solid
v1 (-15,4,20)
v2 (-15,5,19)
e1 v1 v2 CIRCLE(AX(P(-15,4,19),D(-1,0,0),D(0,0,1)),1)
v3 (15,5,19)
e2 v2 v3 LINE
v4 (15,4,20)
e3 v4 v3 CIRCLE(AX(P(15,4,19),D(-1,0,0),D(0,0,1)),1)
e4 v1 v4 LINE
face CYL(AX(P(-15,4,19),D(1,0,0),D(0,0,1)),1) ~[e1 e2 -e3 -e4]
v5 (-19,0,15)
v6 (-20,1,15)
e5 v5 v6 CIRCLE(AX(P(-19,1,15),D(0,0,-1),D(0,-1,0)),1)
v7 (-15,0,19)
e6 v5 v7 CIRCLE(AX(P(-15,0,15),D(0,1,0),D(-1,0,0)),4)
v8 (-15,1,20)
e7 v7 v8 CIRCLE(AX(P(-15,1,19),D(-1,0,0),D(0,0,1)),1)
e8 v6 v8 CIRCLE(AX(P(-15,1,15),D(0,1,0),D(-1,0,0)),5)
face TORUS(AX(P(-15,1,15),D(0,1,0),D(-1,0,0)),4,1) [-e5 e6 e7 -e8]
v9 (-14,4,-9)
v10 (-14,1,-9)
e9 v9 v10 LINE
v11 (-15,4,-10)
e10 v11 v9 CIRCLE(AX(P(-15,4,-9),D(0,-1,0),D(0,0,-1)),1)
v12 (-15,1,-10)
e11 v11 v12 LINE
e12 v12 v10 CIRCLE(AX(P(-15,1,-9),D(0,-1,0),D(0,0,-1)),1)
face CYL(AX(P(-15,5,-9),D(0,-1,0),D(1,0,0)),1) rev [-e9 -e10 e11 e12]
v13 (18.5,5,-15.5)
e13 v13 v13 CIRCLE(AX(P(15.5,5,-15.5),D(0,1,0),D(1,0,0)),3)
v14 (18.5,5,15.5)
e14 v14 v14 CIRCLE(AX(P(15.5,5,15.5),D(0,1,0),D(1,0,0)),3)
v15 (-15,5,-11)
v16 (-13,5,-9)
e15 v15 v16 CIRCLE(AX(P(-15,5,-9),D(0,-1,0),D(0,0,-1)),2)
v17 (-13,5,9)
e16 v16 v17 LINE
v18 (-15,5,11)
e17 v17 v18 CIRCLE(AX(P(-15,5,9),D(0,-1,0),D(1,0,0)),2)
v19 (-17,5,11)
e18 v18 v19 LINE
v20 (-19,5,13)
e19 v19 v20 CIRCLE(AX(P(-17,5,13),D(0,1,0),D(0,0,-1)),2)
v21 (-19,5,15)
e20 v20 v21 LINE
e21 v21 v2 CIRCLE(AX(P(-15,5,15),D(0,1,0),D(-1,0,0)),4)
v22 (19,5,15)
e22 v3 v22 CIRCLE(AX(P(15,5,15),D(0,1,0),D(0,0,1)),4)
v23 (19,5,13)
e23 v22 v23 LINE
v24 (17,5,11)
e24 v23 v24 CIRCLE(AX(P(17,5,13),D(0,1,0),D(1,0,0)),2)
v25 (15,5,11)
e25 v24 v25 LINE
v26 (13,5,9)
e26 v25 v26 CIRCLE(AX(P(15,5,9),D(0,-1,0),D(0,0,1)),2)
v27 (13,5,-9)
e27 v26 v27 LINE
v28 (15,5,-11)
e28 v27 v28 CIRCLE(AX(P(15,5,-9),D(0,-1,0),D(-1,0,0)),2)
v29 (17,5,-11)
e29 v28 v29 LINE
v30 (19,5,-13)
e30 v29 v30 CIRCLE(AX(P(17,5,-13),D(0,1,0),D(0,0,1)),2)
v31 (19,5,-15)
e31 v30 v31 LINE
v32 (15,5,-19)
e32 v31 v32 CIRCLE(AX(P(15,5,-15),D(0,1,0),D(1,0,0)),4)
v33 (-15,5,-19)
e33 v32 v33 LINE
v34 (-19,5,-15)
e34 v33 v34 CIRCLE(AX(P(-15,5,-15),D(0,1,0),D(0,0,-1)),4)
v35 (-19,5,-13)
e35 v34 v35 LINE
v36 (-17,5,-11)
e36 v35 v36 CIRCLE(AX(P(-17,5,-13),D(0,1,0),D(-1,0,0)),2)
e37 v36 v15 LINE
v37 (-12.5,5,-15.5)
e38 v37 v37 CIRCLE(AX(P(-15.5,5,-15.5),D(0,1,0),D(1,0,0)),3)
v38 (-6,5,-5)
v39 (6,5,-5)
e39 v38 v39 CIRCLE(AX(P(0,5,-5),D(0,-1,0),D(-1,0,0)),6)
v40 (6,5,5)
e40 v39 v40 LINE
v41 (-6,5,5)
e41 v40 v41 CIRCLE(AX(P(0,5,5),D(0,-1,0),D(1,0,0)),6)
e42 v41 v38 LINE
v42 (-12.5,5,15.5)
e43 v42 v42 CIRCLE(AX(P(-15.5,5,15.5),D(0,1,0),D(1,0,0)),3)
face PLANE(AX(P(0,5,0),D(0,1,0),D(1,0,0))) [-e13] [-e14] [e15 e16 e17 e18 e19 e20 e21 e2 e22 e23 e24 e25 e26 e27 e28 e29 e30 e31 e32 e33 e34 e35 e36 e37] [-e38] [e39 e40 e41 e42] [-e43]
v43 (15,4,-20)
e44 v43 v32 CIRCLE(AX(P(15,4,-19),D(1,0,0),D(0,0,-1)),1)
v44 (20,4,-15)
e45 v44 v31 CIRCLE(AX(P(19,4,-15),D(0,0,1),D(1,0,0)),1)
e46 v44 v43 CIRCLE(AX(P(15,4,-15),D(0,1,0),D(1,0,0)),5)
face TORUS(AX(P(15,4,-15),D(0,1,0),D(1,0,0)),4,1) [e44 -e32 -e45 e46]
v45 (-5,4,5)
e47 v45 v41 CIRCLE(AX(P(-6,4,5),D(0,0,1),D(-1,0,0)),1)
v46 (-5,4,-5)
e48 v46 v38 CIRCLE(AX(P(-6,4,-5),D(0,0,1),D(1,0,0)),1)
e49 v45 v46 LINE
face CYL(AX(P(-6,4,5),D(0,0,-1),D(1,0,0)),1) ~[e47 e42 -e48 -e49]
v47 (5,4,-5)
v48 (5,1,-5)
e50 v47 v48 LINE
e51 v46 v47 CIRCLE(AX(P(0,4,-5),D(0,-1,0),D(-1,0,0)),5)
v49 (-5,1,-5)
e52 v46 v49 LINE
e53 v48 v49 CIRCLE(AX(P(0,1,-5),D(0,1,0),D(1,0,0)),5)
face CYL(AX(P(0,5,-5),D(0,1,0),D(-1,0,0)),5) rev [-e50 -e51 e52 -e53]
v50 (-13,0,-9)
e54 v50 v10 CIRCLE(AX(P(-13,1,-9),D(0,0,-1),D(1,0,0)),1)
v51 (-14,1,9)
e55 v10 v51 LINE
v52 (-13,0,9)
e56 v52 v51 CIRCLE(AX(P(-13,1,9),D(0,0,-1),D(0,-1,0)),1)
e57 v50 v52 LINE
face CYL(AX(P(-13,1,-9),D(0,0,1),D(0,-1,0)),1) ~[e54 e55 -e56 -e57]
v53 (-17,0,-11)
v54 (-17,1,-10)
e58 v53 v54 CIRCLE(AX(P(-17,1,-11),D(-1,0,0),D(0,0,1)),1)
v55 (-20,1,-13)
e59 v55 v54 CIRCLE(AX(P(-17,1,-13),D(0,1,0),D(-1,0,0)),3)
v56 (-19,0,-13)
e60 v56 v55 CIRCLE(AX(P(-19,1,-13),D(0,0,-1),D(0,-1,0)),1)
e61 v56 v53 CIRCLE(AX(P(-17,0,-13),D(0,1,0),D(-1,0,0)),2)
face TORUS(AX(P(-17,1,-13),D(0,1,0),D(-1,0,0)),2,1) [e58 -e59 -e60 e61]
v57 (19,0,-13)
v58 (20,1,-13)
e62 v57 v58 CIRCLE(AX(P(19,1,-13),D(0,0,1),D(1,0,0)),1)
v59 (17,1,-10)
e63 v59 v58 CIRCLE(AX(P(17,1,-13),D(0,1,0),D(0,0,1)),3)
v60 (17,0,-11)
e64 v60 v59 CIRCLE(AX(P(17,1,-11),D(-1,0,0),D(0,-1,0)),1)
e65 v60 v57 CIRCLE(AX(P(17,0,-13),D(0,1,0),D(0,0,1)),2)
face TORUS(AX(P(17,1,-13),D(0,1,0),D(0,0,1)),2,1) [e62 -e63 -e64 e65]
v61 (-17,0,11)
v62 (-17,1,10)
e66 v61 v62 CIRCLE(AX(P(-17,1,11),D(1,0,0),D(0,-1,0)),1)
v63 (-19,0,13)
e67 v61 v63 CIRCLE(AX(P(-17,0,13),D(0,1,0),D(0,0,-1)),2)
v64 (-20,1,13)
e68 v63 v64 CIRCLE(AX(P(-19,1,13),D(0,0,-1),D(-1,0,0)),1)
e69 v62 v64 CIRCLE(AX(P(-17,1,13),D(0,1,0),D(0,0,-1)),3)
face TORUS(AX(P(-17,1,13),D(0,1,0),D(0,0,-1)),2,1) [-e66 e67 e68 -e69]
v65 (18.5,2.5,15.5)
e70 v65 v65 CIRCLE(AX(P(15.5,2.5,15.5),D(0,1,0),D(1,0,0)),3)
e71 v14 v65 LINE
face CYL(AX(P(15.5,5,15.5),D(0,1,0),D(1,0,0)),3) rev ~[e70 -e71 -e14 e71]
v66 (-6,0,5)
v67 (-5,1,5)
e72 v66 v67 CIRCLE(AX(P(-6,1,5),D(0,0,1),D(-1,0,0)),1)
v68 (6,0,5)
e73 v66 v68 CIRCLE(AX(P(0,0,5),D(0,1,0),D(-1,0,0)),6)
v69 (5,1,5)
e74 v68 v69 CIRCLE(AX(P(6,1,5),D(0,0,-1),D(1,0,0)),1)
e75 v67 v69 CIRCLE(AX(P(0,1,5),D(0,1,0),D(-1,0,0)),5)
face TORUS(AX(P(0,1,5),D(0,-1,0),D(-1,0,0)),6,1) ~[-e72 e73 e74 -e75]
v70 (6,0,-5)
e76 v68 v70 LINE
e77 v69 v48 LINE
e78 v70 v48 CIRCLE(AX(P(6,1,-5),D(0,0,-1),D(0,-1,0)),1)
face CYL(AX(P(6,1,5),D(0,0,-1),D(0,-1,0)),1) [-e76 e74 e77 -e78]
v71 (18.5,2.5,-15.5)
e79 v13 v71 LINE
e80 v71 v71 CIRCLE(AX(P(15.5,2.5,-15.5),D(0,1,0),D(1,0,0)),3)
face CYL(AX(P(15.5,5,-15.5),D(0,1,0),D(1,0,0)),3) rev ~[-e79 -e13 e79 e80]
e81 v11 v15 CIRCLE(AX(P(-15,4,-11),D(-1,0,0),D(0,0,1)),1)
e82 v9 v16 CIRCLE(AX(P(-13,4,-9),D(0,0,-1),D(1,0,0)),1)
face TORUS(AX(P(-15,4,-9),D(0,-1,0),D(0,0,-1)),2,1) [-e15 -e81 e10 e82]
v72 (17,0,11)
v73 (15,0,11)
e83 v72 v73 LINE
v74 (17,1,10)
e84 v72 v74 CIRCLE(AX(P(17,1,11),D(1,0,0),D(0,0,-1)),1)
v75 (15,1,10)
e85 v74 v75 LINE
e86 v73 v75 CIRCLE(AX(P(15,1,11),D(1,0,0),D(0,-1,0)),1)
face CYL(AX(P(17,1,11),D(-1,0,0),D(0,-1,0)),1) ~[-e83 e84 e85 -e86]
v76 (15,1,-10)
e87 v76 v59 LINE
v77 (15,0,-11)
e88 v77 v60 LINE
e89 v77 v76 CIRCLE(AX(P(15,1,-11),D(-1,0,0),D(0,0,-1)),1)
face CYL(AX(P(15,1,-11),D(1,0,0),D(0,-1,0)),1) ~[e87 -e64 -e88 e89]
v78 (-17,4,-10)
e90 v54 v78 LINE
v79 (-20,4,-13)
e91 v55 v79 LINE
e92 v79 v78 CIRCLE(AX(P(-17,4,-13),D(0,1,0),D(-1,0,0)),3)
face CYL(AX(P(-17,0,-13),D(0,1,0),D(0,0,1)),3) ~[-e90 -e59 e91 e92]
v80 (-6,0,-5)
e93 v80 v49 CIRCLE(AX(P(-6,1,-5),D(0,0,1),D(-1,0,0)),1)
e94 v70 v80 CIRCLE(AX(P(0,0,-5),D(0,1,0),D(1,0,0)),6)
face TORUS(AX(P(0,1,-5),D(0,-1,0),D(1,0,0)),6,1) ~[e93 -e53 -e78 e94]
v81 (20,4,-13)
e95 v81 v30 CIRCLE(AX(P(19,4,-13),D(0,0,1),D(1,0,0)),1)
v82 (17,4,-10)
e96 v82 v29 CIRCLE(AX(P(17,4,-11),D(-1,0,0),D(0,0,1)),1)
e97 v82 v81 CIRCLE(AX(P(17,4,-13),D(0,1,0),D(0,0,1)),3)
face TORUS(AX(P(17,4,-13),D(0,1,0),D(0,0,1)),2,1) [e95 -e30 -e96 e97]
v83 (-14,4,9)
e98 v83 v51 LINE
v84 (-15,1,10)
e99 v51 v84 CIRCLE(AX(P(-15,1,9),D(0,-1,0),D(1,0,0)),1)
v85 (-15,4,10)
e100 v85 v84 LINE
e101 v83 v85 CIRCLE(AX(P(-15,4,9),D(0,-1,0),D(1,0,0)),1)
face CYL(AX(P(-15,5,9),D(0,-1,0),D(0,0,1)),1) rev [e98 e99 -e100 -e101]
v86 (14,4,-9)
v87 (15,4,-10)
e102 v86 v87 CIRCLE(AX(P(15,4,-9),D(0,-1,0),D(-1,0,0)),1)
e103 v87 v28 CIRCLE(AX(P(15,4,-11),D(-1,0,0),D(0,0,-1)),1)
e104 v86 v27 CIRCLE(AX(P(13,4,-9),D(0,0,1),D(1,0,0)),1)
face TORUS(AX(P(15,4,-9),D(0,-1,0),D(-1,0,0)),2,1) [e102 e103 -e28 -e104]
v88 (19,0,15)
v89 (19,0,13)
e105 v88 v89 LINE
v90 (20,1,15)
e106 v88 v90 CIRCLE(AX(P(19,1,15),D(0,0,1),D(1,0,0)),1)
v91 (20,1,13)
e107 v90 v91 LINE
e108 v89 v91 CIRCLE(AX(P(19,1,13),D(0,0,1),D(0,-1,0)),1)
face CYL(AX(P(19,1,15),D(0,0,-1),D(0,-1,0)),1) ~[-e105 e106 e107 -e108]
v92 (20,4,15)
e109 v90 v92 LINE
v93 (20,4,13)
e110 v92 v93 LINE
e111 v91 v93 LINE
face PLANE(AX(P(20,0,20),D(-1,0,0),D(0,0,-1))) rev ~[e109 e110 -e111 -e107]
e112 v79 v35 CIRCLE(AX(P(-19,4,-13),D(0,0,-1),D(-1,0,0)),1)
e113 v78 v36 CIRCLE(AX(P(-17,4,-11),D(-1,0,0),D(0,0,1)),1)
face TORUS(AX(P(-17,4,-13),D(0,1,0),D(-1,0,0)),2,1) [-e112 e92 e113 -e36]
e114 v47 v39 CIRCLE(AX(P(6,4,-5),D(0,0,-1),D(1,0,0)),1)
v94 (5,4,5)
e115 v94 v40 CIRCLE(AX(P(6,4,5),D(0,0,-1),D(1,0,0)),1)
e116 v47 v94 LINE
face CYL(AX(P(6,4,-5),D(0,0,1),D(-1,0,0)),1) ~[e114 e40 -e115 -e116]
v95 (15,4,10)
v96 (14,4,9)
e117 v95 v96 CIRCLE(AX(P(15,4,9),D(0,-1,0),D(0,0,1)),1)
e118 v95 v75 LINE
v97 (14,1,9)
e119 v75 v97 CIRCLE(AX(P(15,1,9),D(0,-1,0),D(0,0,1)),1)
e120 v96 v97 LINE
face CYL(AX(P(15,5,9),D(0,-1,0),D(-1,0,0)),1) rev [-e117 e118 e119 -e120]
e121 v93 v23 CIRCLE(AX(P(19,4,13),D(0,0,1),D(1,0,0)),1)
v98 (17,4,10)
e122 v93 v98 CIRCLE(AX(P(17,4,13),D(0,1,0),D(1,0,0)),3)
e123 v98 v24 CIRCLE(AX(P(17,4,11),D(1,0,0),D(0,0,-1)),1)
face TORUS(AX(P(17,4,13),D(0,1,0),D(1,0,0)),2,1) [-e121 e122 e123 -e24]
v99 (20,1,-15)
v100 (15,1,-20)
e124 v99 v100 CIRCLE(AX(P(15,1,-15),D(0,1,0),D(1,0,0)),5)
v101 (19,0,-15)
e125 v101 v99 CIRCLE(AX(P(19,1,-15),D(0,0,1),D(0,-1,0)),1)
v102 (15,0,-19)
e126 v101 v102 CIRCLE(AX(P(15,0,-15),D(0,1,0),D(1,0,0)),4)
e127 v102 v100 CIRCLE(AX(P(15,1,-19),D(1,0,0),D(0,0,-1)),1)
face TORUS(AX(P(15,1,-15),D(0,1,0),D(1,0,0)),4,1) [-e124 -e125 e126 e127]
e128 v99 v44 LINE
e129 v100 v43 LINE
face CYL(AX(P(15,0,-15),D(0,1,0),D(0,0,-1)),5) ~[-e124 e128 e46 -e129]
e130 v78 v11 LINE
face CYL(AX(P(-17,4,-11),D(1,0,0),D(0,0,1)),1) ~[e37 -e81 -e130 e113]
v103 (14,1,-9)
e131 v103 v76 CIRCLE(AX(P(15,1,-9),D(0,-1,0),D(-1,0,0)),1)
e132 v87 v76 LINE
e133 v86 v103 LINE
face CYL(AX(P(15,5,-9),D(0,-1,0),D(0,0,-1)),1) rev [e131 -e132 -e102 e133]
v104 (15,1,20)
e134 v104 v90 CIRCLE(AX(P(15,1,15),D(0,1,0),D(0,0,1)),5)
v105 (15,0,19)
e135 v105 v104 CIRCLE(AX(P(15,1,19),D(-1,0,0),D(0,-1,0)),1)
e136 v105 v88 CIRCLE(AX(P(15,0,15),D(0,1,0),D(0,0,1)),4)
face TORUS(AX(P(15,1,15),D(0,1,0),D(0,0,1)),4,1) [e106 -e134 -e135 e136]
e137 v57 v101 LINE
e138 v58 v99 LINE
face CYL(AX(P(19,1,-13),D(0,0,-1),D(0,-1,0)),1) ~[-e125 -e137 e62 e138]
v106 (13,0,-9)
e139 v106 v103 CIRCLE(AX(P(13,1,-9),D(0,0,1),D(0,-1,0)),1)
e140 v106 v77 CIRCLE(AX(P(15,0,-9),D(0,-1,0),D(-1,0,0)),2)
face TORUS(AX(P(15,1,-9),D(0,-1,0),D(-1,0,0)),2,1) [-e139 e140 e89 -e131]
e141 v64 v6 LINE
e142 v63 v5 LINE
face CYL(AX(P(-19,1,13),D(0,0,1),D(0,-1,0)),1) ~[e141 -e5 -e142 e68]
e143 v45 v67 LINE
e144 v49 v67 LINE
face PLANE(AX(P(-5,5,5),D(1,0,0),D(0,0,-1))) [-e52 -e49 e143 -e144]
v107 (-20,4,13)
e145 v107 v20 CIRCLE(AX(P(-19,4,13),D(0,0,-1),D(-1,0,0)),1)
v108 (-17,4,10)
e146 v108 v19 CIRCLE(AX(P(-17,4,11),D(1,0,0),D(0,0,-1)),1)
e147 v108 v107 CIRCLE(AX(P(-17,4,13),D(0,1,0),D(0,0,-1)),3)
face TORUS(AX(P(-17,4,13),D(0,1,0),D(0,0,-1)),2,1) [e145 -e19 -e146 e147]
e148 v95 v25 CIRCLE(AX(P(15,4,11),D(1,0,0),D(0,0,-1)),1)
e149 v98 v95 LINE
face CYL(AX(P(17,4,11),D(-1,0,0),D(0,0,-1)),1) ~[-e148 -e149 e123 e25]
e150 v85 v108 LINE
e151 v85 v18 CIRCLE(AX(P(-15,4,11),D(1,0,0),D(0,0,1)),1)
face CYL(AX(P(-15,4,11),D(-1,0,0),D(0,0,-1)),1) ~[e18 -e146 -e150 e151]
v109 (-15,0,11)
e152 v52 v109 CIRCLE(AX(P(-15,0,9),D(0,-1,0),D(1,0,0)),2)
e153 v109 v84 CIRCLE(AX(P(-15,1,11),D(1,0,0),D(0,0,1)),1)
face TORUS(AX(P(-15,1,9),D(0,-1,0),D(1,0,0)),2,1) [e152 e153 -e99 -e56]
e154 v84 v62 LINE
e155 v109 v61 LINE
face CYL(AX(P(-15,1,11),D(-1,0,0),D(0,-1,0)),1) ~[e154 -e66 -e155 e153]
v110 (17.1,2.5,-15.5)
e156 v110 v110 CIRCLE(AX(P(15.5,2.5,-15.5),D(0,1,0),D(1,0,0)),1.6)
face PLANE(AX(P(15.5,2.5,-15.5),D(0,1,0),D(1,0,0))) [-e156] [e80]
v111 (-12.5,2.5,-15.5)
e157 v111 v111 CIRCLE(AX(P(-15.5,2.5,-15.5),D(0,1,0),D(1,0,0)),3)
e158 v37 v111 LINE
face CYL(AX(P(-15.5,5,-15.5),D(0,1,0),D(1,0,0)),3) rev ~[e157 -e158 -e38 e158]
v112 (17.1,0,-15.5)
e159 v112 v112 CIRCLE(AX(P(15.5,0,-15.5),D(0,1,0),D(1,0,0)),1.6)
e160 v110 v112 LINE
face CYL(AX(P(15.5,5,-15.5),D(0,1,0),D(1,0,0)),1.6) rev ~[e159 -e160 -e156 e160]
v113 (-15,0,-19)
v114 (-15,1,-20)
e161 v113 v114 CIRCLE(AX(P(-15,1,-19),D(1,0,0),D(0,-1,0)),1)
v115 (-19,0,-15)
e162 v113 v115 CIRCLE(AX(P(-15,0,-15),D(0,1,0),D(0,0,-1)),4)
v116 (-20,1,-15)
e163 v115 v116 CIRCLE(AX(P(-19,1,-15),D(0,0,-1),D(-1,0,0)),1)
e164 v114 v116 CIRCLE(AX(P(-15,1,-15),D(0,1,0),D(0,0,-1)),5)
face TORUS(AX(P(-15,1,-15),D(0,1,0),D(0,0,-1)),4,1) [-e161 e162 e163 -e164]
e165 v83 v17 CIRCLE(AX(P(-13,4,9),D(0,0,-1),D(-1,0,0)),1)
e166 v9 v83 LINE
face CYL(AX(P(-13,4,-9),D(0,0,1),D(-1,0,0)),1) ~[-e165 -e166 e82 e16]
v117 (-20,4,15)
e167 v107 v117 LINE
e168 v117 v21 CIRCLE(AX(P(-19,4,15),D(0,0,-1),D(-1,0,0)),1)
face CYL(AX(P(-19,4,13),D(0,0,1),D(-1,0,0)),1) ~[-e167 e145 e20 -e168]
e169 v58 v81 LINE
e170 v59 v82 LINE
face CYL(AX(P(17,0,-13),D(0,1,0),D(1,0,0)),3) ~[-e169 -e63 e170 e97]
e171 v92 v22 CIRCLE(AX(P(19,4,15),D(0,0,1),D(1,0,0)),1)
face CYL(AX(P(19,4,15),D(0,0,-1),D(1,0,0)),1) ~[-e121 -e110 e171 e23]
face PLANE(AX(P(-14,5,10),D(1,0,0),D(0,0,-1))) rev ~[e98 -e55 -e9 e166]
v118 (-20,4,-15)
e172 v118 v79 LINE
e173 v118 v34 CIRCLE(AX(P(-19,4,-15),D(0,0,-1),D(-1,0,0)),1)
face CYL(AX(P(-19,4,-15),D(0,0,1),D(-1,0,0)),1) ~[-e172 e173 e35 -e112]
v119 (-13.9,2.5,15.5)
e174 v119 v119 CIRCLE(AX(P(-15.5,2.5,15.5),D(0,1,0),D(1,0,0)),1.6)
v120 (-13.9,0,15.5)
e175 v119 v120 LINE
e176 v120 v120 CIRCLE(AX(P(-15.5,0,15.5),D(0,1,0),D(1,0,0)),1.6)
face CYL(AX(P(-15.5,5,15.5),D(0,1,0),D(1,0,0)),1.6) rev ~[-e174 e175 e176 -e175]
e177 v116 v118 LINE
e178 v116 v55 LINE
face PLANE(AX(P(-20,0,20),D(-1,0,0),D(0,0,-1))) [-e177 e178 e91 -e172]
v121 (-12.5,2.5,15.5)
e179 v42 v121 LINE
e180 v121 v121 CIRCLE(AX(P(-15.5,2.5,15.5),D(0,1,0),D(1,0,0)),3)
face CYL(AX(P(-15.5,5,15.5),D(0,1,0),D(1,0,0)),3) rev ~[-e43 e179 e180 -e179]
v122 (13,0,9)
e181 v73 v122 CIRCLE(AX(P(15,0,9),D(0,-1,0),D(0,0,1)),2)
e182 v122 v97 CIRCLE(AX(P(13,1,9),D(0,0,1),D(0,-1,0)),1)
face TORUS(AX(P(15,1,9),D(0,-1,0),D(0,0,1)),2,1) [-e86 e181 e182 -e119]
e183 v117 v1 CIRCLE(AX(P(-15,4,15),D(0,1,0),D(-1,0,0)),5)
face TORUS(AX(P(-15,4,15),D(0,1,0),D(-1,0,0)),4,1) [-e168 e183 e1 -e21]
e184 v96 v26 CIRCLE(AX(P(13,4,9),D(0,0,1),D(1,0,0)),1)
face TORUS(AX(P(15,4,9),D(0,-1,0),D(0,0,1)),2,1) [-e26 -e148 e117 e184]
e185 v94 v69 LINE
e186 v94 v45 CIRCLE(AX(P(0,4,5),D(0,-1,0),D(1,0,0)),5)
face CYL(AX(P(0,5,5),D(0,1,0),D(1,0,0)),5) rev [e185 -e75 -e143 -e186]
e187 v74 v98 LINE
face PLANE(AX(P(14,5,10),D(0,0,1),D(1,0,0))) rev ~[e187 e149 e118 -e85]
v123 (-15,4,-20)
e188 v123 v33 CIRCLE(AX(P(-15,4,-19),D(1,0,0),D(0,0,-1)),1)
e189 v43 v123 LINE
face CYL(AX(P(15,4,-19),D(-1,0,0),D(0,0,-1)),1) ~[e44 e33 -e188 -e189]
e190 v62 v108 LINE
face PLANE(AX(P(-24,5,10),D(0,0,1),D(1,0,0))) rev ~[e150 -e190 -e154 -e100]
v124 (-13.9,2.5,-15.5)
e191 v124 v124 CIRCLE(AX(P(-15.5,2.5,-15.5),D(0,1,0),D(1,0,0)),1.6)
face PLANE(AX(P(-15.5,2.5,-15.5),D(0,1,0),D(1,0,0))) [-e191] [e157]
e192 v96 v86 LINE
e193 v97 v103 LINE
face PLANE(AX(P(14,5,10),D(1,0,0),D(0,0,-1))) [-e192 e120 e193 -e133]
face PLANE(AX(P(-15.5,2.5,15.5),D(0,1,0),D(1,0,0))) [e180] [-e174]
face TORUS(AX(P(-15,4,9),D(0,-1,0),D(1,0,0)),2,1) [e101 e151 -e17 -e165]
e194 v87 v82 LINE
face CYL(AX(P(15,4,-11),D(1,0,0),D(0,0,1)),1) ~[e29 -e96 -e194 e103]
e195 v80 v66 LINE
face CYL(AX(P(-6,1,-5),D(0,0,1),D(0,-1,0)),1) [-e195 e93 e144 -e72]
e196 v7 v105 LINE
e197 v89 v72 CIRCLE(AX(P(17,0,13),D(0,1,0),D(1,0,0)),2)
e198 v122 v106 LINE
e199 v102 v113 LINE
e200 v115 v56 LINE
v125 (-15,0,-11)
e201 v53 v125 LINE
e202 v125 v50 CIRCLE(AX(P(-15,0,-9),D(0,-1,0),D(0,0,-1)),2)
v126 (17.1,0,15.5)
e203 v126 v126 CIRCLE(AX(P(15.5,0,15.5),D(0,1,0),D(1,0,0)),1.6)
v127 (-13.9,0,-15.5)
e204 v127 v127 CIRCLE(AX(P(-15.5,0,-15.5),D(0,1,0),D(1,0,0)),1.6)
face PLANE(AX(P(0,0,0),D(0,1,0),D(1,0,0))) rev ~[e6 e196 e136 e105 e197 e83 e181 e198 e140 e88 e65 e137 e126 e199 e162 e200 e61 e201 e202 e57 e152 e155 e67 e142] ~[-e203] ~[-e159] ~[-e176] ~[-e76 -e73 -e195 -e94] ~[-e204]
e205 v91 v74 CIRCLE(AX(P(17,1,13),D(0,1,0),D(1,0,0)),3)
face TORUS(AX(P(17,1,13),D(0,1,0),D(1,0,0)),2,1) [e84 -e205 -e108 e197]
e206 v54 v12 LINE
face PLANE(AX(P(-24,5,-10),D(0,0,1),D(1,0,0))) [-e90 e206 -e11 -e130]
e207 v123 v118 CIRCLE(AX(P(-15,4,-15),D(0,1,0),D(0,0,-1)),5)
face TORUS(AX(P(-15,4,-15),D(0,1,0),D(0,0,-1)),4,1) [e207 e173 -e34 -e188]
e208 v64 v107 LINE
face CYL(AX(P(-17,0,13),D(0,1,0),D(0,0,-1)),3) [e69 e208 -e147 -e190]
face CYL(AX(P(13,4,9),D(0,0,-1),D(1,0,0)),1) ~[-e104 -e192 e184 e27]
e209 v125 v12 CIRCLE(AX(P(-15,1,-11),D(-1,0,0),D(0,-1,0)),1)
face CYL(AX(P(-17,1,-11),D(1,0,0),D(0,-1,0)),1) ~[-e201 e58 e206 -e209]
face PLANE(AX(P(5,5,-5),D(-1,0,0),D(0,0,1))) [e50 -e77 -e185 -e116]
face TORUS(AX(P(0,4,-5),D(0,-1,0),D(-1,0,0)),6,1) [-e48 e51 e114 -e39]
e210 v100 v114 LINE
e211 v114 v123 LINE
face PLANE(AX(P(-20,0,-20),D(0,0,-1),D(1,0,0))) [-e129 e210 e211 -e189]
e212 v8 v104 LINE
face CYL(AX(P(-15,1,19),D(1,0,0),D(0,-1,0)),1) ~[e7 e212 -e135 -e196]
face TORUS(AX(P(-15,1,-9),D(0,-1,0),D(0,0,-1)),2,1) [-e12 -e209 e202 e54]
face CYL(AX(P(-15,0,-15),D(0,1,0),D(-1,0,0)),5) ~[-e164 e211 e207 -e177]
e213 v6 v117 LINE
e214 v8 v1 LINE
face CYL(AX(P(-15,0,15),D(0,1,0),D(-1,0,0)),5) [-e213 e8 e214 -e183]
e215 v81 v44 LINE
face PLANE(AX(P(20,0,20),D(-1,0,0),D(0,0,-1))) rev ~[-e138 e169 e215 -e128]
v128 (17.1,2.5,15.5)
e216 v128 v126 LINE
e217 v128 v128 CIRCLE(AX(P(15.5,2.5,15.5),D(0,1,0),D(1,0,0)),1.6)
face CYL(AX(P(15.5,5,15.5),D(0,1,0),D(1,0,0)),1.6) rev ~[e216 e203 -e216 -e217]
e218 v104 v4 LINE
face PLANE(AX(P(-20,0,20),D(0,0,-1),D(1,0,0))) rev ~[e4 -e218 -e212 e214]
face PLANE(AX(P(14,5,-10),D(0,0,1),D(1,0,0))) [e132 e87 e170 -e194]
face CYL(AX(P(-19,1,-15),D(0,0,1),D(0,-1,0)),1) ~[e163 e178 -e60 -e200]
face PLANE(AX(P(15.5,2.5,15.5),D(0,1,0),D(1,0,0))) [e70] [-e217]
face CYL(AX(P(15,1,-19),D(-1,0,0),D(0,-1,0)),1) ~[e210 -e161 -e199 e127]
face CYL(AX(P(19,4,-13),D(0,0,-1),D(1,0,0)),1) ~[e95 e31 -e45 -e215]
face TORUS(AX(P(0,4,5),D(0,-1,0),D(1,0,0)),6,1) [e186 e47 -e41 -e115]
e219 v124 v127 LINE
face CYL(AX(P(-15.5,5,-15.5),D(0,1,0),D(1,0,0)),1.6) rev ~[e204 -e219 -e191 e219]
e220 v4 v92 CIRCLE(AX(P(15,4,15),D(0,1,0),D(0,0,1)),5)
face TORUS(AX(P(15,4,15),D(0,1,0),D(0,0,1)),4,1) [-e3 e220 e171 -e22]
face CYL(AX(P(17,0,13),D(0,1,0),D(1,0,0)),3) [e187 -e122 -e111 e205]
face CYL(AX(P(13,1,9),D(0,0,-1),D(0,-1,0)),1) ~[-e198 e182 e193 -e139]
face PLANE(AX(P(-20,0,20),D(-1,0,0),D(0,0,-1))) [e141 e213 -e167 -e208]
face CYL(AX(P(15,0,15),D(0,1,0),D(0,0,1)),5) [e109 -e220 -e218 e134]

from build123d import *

# Parameters (mm, degrees)
SKETCH_1_W          = 40
SKETCH_1_H          = 40
EXTRUDE_1_DEPTH     = 5
SKETCH_2_R          = 1.6
CUT_EXTRUDE_1_DEPTH = 6
FILLET_1_R          = 5
SKETCH_3_W          = 10
SKETCH_3_H          = 20
CUT_EXTRUDE_2_DEPTH = 6
FILLET_2_R          = 1
FILLET_3_R          = 3
SKETCH_4_R          = 3
CUT_EXTRUDE_3_DEPTH = 2.5
FILLET_5_R          = 1
CUT_EXTRUDE_4_DEPTH = 6
FILLET_6_R          = 1


with BuildPart() as part:
    # 草图1 → 凸台-拉伸1 (new body)
    with BuildSketch(Plane(origin=(0, 0, 0), x_dir=(1, 0, 0), z_dir=(0, 1, 0))):
        Rectangle(SKETCH_1_W, SKETCH_1_H)
    extrude(amount=EXTRUDE_1_DEPTH)

    # 草图2 → 切除-拉伸1 (cut, through all)
    with BuildSketch(Plane(origin=(0, 5, 0), x_dir=(1, 0, 0), z_dir=(0, 1, 0))):
        with Locations((-15.5, 15.5)):
            Circle(SKETCH_2_R)
        with Locations((15.5, 15.5)):
            Circle(SKETCH_2_R)
        with Locations((15.5, -15.5)):
            Circle(SKETCH_2_R)
        with Locations((-15.5, -15.5)):
            Circle(SKETCH_2_R)
    extrude(amount=-CUT_EXTRUDE_1_DEPTH, mode=Mode.SUBTRACT)

    # 圆角1
    fillet_1_edges = [part.edges().sort_by_distance(p)[0] for p in [
        (20, 2.5, 20),
        (-20, 2.5, 20),
        (-20, 2.5, -20),
        (20, 2.5, -20),
    ]]
    fillet(fillet_1_edges, radius=FILLET_1_R)

    # 草图3 → 切除-拉伸2 (cut, through all)
    with BuildSketch(Plane(origin=(0, 5, 0), x_dir=(1, 0, 0), z_dir=(0, 1, 0))):
        with Locations((-19, 0)):
            Rectangle(SKETCH_3_W, SKETCH_3_H)
        with Locations((19, 0)):
            Rectangle(SKETCH_3_W, SKETCH_3_H)
    extrude(amount=-CUT_EXTRUDE_2_DEPTH, mode=Mode.SUBTRACT)

    # 圆角2
    fillet_2_edges = [part.edges().sort_by_distance(p)[0] for p in [
        (-14, 2.5, 10),
        (-14, 2.5, -10),
        (14, 2.5, -10),
        (14, 2.5, 10),
    ]]
    fillet(fillet_2_edges, radius=FILLET_2_R)

    # 圆角3
    fillet_3_edges = [part.edges().sort_by_distance(p)[0] for p in [
        (-20, 2.5, 10),
        (-20, 2.5, -10),
        (20, 2.5, -10),
        (20, 2.5, 10),
    ]]
    fillet(fillet_3_edges, radius=FILLET_3_R)

    # 草图4 → 切除-拉伸3 (cut)
    with BuildSketch(Plane(origin=(0, 5, 0), x_dir=(1, 0, 0), z_dir=(0, 1, 0))):
        with Locations((-15.5, 15.5)):
            Circle(SKETCH_4_R)
        with Locations((15.5, 15.5)):
            Circle(SKETCH_4_R)
        with Locations((15.5, -15.5)):
            Circle(SKETCH_4_R)
        with Locations((-15.5, -15.5)):
            Circle(SKETCH_4_R)
    extrude(amount=-CUT_EXTRUDE_3_DEPTH, mode=Mode.SUBTRACT)

    # 圆角5
    fillet_5_edges = [part.edges().sort_by_distance(p)[0] for p in [
        (14, 5, 0),
        (14, 0, 0),
        (16, 0, -10),
        (16, 0, 10),
        (16, 5, 10),
        (-14, 5, 0),
        (-14, 0, 0),
        (-16, 0, 10),
        (-16, 0, -10),
        (-16, 5, -10),
        (14.292893219, 5, -9.707106781),
        (14.292893219, 0, -9.707106781),
        (14.292893219, 5, 9.707106781),
        (14.292893219, 0, 9.707106781),
        (-14.292893219, 5, 9.707106781),
        (-14.292893219, 0, 9.707106781),
        (-14.292893219, 5, -9.707106781),
        (-14.292893219, 0, -9.707106781),
        (-16, 5, 10),
        (-20, 5, 14),
        (16, 5, -10),
        (20, 5, -14),
        (-19.121320344, 5, -10.878679656),
        (-19.121320344, 5, 10.878679656),
        (19.121320344, 5, -10.878679656),
        (19.121320344, 5, 10.878679656),
        (20, 0, -14),
        (-20, 0, 14),
        (-19.121320344, 0, -10.878679656),
        (-19.121320344, 0, 10.878679656),
        (19.121320344, 0, -10.878679656),
        (19.121320344, 0, 10.878679656),
        (20, 0, 14),
        (20, 5, 14),
        (0, 0, 20),
        (-20, 0, -14),
        (0, 0, -20),
        (-18.535533906, 0, -18.535533906),
        (18.535533906, 0, -18.535533906),
        (-18.535533906, 0, 18.535533906),
        (18.535533906, 0, 18.535533906),
        (0, 5, 20),
        (0, 5, -20),
        (-20, 5, -14),
        (-18.535533906, 5, -18.535533906),
        (18.535533906, 5, -18.535533906),
        (-18.535533906, 5, 18.535533906),
        (18.535533906, 5, 18.535533906),
    ]]
    fillet(fillet_5_edges, radius=FILLET_5_R)

    # 草图5 → 切除-拉伸4 (cut, through all)
    with BuildSketch(Plane(origin=(0, 5, 0), x_dir=(1, 0, 0), z_dir=(0, 1, 0))):
        with BuildLine():
            Line((-5, -5), (-5, 5))
            ThreePointArc((-5, 5), (0, 10), (5, 5))
            Line((5, 5), (5, -5))
            ThreePointArc((5, -5), (0, -10), (-5, -5))
        make_face()
    extrude(amount=-CUT_EXTRUDE_4_DEPTH, mode=Mode.SUBTRACT)

    # 圆角6
    fillet_6_edges = [part.edges().sort_by_distance(p)[0] for p in [
        (0, 0, 10),
        (-5, 0, 0),
        (0, 0, -10),
        (5, 0, 0),
        (0, 5, 10),
        (5, 5, 0),
        (0, 5, -10),
        (-5, 5, 0),
    ]]
    fillet(fillet_6_edges, radius=FILLET_6_R)


solid = part.part
